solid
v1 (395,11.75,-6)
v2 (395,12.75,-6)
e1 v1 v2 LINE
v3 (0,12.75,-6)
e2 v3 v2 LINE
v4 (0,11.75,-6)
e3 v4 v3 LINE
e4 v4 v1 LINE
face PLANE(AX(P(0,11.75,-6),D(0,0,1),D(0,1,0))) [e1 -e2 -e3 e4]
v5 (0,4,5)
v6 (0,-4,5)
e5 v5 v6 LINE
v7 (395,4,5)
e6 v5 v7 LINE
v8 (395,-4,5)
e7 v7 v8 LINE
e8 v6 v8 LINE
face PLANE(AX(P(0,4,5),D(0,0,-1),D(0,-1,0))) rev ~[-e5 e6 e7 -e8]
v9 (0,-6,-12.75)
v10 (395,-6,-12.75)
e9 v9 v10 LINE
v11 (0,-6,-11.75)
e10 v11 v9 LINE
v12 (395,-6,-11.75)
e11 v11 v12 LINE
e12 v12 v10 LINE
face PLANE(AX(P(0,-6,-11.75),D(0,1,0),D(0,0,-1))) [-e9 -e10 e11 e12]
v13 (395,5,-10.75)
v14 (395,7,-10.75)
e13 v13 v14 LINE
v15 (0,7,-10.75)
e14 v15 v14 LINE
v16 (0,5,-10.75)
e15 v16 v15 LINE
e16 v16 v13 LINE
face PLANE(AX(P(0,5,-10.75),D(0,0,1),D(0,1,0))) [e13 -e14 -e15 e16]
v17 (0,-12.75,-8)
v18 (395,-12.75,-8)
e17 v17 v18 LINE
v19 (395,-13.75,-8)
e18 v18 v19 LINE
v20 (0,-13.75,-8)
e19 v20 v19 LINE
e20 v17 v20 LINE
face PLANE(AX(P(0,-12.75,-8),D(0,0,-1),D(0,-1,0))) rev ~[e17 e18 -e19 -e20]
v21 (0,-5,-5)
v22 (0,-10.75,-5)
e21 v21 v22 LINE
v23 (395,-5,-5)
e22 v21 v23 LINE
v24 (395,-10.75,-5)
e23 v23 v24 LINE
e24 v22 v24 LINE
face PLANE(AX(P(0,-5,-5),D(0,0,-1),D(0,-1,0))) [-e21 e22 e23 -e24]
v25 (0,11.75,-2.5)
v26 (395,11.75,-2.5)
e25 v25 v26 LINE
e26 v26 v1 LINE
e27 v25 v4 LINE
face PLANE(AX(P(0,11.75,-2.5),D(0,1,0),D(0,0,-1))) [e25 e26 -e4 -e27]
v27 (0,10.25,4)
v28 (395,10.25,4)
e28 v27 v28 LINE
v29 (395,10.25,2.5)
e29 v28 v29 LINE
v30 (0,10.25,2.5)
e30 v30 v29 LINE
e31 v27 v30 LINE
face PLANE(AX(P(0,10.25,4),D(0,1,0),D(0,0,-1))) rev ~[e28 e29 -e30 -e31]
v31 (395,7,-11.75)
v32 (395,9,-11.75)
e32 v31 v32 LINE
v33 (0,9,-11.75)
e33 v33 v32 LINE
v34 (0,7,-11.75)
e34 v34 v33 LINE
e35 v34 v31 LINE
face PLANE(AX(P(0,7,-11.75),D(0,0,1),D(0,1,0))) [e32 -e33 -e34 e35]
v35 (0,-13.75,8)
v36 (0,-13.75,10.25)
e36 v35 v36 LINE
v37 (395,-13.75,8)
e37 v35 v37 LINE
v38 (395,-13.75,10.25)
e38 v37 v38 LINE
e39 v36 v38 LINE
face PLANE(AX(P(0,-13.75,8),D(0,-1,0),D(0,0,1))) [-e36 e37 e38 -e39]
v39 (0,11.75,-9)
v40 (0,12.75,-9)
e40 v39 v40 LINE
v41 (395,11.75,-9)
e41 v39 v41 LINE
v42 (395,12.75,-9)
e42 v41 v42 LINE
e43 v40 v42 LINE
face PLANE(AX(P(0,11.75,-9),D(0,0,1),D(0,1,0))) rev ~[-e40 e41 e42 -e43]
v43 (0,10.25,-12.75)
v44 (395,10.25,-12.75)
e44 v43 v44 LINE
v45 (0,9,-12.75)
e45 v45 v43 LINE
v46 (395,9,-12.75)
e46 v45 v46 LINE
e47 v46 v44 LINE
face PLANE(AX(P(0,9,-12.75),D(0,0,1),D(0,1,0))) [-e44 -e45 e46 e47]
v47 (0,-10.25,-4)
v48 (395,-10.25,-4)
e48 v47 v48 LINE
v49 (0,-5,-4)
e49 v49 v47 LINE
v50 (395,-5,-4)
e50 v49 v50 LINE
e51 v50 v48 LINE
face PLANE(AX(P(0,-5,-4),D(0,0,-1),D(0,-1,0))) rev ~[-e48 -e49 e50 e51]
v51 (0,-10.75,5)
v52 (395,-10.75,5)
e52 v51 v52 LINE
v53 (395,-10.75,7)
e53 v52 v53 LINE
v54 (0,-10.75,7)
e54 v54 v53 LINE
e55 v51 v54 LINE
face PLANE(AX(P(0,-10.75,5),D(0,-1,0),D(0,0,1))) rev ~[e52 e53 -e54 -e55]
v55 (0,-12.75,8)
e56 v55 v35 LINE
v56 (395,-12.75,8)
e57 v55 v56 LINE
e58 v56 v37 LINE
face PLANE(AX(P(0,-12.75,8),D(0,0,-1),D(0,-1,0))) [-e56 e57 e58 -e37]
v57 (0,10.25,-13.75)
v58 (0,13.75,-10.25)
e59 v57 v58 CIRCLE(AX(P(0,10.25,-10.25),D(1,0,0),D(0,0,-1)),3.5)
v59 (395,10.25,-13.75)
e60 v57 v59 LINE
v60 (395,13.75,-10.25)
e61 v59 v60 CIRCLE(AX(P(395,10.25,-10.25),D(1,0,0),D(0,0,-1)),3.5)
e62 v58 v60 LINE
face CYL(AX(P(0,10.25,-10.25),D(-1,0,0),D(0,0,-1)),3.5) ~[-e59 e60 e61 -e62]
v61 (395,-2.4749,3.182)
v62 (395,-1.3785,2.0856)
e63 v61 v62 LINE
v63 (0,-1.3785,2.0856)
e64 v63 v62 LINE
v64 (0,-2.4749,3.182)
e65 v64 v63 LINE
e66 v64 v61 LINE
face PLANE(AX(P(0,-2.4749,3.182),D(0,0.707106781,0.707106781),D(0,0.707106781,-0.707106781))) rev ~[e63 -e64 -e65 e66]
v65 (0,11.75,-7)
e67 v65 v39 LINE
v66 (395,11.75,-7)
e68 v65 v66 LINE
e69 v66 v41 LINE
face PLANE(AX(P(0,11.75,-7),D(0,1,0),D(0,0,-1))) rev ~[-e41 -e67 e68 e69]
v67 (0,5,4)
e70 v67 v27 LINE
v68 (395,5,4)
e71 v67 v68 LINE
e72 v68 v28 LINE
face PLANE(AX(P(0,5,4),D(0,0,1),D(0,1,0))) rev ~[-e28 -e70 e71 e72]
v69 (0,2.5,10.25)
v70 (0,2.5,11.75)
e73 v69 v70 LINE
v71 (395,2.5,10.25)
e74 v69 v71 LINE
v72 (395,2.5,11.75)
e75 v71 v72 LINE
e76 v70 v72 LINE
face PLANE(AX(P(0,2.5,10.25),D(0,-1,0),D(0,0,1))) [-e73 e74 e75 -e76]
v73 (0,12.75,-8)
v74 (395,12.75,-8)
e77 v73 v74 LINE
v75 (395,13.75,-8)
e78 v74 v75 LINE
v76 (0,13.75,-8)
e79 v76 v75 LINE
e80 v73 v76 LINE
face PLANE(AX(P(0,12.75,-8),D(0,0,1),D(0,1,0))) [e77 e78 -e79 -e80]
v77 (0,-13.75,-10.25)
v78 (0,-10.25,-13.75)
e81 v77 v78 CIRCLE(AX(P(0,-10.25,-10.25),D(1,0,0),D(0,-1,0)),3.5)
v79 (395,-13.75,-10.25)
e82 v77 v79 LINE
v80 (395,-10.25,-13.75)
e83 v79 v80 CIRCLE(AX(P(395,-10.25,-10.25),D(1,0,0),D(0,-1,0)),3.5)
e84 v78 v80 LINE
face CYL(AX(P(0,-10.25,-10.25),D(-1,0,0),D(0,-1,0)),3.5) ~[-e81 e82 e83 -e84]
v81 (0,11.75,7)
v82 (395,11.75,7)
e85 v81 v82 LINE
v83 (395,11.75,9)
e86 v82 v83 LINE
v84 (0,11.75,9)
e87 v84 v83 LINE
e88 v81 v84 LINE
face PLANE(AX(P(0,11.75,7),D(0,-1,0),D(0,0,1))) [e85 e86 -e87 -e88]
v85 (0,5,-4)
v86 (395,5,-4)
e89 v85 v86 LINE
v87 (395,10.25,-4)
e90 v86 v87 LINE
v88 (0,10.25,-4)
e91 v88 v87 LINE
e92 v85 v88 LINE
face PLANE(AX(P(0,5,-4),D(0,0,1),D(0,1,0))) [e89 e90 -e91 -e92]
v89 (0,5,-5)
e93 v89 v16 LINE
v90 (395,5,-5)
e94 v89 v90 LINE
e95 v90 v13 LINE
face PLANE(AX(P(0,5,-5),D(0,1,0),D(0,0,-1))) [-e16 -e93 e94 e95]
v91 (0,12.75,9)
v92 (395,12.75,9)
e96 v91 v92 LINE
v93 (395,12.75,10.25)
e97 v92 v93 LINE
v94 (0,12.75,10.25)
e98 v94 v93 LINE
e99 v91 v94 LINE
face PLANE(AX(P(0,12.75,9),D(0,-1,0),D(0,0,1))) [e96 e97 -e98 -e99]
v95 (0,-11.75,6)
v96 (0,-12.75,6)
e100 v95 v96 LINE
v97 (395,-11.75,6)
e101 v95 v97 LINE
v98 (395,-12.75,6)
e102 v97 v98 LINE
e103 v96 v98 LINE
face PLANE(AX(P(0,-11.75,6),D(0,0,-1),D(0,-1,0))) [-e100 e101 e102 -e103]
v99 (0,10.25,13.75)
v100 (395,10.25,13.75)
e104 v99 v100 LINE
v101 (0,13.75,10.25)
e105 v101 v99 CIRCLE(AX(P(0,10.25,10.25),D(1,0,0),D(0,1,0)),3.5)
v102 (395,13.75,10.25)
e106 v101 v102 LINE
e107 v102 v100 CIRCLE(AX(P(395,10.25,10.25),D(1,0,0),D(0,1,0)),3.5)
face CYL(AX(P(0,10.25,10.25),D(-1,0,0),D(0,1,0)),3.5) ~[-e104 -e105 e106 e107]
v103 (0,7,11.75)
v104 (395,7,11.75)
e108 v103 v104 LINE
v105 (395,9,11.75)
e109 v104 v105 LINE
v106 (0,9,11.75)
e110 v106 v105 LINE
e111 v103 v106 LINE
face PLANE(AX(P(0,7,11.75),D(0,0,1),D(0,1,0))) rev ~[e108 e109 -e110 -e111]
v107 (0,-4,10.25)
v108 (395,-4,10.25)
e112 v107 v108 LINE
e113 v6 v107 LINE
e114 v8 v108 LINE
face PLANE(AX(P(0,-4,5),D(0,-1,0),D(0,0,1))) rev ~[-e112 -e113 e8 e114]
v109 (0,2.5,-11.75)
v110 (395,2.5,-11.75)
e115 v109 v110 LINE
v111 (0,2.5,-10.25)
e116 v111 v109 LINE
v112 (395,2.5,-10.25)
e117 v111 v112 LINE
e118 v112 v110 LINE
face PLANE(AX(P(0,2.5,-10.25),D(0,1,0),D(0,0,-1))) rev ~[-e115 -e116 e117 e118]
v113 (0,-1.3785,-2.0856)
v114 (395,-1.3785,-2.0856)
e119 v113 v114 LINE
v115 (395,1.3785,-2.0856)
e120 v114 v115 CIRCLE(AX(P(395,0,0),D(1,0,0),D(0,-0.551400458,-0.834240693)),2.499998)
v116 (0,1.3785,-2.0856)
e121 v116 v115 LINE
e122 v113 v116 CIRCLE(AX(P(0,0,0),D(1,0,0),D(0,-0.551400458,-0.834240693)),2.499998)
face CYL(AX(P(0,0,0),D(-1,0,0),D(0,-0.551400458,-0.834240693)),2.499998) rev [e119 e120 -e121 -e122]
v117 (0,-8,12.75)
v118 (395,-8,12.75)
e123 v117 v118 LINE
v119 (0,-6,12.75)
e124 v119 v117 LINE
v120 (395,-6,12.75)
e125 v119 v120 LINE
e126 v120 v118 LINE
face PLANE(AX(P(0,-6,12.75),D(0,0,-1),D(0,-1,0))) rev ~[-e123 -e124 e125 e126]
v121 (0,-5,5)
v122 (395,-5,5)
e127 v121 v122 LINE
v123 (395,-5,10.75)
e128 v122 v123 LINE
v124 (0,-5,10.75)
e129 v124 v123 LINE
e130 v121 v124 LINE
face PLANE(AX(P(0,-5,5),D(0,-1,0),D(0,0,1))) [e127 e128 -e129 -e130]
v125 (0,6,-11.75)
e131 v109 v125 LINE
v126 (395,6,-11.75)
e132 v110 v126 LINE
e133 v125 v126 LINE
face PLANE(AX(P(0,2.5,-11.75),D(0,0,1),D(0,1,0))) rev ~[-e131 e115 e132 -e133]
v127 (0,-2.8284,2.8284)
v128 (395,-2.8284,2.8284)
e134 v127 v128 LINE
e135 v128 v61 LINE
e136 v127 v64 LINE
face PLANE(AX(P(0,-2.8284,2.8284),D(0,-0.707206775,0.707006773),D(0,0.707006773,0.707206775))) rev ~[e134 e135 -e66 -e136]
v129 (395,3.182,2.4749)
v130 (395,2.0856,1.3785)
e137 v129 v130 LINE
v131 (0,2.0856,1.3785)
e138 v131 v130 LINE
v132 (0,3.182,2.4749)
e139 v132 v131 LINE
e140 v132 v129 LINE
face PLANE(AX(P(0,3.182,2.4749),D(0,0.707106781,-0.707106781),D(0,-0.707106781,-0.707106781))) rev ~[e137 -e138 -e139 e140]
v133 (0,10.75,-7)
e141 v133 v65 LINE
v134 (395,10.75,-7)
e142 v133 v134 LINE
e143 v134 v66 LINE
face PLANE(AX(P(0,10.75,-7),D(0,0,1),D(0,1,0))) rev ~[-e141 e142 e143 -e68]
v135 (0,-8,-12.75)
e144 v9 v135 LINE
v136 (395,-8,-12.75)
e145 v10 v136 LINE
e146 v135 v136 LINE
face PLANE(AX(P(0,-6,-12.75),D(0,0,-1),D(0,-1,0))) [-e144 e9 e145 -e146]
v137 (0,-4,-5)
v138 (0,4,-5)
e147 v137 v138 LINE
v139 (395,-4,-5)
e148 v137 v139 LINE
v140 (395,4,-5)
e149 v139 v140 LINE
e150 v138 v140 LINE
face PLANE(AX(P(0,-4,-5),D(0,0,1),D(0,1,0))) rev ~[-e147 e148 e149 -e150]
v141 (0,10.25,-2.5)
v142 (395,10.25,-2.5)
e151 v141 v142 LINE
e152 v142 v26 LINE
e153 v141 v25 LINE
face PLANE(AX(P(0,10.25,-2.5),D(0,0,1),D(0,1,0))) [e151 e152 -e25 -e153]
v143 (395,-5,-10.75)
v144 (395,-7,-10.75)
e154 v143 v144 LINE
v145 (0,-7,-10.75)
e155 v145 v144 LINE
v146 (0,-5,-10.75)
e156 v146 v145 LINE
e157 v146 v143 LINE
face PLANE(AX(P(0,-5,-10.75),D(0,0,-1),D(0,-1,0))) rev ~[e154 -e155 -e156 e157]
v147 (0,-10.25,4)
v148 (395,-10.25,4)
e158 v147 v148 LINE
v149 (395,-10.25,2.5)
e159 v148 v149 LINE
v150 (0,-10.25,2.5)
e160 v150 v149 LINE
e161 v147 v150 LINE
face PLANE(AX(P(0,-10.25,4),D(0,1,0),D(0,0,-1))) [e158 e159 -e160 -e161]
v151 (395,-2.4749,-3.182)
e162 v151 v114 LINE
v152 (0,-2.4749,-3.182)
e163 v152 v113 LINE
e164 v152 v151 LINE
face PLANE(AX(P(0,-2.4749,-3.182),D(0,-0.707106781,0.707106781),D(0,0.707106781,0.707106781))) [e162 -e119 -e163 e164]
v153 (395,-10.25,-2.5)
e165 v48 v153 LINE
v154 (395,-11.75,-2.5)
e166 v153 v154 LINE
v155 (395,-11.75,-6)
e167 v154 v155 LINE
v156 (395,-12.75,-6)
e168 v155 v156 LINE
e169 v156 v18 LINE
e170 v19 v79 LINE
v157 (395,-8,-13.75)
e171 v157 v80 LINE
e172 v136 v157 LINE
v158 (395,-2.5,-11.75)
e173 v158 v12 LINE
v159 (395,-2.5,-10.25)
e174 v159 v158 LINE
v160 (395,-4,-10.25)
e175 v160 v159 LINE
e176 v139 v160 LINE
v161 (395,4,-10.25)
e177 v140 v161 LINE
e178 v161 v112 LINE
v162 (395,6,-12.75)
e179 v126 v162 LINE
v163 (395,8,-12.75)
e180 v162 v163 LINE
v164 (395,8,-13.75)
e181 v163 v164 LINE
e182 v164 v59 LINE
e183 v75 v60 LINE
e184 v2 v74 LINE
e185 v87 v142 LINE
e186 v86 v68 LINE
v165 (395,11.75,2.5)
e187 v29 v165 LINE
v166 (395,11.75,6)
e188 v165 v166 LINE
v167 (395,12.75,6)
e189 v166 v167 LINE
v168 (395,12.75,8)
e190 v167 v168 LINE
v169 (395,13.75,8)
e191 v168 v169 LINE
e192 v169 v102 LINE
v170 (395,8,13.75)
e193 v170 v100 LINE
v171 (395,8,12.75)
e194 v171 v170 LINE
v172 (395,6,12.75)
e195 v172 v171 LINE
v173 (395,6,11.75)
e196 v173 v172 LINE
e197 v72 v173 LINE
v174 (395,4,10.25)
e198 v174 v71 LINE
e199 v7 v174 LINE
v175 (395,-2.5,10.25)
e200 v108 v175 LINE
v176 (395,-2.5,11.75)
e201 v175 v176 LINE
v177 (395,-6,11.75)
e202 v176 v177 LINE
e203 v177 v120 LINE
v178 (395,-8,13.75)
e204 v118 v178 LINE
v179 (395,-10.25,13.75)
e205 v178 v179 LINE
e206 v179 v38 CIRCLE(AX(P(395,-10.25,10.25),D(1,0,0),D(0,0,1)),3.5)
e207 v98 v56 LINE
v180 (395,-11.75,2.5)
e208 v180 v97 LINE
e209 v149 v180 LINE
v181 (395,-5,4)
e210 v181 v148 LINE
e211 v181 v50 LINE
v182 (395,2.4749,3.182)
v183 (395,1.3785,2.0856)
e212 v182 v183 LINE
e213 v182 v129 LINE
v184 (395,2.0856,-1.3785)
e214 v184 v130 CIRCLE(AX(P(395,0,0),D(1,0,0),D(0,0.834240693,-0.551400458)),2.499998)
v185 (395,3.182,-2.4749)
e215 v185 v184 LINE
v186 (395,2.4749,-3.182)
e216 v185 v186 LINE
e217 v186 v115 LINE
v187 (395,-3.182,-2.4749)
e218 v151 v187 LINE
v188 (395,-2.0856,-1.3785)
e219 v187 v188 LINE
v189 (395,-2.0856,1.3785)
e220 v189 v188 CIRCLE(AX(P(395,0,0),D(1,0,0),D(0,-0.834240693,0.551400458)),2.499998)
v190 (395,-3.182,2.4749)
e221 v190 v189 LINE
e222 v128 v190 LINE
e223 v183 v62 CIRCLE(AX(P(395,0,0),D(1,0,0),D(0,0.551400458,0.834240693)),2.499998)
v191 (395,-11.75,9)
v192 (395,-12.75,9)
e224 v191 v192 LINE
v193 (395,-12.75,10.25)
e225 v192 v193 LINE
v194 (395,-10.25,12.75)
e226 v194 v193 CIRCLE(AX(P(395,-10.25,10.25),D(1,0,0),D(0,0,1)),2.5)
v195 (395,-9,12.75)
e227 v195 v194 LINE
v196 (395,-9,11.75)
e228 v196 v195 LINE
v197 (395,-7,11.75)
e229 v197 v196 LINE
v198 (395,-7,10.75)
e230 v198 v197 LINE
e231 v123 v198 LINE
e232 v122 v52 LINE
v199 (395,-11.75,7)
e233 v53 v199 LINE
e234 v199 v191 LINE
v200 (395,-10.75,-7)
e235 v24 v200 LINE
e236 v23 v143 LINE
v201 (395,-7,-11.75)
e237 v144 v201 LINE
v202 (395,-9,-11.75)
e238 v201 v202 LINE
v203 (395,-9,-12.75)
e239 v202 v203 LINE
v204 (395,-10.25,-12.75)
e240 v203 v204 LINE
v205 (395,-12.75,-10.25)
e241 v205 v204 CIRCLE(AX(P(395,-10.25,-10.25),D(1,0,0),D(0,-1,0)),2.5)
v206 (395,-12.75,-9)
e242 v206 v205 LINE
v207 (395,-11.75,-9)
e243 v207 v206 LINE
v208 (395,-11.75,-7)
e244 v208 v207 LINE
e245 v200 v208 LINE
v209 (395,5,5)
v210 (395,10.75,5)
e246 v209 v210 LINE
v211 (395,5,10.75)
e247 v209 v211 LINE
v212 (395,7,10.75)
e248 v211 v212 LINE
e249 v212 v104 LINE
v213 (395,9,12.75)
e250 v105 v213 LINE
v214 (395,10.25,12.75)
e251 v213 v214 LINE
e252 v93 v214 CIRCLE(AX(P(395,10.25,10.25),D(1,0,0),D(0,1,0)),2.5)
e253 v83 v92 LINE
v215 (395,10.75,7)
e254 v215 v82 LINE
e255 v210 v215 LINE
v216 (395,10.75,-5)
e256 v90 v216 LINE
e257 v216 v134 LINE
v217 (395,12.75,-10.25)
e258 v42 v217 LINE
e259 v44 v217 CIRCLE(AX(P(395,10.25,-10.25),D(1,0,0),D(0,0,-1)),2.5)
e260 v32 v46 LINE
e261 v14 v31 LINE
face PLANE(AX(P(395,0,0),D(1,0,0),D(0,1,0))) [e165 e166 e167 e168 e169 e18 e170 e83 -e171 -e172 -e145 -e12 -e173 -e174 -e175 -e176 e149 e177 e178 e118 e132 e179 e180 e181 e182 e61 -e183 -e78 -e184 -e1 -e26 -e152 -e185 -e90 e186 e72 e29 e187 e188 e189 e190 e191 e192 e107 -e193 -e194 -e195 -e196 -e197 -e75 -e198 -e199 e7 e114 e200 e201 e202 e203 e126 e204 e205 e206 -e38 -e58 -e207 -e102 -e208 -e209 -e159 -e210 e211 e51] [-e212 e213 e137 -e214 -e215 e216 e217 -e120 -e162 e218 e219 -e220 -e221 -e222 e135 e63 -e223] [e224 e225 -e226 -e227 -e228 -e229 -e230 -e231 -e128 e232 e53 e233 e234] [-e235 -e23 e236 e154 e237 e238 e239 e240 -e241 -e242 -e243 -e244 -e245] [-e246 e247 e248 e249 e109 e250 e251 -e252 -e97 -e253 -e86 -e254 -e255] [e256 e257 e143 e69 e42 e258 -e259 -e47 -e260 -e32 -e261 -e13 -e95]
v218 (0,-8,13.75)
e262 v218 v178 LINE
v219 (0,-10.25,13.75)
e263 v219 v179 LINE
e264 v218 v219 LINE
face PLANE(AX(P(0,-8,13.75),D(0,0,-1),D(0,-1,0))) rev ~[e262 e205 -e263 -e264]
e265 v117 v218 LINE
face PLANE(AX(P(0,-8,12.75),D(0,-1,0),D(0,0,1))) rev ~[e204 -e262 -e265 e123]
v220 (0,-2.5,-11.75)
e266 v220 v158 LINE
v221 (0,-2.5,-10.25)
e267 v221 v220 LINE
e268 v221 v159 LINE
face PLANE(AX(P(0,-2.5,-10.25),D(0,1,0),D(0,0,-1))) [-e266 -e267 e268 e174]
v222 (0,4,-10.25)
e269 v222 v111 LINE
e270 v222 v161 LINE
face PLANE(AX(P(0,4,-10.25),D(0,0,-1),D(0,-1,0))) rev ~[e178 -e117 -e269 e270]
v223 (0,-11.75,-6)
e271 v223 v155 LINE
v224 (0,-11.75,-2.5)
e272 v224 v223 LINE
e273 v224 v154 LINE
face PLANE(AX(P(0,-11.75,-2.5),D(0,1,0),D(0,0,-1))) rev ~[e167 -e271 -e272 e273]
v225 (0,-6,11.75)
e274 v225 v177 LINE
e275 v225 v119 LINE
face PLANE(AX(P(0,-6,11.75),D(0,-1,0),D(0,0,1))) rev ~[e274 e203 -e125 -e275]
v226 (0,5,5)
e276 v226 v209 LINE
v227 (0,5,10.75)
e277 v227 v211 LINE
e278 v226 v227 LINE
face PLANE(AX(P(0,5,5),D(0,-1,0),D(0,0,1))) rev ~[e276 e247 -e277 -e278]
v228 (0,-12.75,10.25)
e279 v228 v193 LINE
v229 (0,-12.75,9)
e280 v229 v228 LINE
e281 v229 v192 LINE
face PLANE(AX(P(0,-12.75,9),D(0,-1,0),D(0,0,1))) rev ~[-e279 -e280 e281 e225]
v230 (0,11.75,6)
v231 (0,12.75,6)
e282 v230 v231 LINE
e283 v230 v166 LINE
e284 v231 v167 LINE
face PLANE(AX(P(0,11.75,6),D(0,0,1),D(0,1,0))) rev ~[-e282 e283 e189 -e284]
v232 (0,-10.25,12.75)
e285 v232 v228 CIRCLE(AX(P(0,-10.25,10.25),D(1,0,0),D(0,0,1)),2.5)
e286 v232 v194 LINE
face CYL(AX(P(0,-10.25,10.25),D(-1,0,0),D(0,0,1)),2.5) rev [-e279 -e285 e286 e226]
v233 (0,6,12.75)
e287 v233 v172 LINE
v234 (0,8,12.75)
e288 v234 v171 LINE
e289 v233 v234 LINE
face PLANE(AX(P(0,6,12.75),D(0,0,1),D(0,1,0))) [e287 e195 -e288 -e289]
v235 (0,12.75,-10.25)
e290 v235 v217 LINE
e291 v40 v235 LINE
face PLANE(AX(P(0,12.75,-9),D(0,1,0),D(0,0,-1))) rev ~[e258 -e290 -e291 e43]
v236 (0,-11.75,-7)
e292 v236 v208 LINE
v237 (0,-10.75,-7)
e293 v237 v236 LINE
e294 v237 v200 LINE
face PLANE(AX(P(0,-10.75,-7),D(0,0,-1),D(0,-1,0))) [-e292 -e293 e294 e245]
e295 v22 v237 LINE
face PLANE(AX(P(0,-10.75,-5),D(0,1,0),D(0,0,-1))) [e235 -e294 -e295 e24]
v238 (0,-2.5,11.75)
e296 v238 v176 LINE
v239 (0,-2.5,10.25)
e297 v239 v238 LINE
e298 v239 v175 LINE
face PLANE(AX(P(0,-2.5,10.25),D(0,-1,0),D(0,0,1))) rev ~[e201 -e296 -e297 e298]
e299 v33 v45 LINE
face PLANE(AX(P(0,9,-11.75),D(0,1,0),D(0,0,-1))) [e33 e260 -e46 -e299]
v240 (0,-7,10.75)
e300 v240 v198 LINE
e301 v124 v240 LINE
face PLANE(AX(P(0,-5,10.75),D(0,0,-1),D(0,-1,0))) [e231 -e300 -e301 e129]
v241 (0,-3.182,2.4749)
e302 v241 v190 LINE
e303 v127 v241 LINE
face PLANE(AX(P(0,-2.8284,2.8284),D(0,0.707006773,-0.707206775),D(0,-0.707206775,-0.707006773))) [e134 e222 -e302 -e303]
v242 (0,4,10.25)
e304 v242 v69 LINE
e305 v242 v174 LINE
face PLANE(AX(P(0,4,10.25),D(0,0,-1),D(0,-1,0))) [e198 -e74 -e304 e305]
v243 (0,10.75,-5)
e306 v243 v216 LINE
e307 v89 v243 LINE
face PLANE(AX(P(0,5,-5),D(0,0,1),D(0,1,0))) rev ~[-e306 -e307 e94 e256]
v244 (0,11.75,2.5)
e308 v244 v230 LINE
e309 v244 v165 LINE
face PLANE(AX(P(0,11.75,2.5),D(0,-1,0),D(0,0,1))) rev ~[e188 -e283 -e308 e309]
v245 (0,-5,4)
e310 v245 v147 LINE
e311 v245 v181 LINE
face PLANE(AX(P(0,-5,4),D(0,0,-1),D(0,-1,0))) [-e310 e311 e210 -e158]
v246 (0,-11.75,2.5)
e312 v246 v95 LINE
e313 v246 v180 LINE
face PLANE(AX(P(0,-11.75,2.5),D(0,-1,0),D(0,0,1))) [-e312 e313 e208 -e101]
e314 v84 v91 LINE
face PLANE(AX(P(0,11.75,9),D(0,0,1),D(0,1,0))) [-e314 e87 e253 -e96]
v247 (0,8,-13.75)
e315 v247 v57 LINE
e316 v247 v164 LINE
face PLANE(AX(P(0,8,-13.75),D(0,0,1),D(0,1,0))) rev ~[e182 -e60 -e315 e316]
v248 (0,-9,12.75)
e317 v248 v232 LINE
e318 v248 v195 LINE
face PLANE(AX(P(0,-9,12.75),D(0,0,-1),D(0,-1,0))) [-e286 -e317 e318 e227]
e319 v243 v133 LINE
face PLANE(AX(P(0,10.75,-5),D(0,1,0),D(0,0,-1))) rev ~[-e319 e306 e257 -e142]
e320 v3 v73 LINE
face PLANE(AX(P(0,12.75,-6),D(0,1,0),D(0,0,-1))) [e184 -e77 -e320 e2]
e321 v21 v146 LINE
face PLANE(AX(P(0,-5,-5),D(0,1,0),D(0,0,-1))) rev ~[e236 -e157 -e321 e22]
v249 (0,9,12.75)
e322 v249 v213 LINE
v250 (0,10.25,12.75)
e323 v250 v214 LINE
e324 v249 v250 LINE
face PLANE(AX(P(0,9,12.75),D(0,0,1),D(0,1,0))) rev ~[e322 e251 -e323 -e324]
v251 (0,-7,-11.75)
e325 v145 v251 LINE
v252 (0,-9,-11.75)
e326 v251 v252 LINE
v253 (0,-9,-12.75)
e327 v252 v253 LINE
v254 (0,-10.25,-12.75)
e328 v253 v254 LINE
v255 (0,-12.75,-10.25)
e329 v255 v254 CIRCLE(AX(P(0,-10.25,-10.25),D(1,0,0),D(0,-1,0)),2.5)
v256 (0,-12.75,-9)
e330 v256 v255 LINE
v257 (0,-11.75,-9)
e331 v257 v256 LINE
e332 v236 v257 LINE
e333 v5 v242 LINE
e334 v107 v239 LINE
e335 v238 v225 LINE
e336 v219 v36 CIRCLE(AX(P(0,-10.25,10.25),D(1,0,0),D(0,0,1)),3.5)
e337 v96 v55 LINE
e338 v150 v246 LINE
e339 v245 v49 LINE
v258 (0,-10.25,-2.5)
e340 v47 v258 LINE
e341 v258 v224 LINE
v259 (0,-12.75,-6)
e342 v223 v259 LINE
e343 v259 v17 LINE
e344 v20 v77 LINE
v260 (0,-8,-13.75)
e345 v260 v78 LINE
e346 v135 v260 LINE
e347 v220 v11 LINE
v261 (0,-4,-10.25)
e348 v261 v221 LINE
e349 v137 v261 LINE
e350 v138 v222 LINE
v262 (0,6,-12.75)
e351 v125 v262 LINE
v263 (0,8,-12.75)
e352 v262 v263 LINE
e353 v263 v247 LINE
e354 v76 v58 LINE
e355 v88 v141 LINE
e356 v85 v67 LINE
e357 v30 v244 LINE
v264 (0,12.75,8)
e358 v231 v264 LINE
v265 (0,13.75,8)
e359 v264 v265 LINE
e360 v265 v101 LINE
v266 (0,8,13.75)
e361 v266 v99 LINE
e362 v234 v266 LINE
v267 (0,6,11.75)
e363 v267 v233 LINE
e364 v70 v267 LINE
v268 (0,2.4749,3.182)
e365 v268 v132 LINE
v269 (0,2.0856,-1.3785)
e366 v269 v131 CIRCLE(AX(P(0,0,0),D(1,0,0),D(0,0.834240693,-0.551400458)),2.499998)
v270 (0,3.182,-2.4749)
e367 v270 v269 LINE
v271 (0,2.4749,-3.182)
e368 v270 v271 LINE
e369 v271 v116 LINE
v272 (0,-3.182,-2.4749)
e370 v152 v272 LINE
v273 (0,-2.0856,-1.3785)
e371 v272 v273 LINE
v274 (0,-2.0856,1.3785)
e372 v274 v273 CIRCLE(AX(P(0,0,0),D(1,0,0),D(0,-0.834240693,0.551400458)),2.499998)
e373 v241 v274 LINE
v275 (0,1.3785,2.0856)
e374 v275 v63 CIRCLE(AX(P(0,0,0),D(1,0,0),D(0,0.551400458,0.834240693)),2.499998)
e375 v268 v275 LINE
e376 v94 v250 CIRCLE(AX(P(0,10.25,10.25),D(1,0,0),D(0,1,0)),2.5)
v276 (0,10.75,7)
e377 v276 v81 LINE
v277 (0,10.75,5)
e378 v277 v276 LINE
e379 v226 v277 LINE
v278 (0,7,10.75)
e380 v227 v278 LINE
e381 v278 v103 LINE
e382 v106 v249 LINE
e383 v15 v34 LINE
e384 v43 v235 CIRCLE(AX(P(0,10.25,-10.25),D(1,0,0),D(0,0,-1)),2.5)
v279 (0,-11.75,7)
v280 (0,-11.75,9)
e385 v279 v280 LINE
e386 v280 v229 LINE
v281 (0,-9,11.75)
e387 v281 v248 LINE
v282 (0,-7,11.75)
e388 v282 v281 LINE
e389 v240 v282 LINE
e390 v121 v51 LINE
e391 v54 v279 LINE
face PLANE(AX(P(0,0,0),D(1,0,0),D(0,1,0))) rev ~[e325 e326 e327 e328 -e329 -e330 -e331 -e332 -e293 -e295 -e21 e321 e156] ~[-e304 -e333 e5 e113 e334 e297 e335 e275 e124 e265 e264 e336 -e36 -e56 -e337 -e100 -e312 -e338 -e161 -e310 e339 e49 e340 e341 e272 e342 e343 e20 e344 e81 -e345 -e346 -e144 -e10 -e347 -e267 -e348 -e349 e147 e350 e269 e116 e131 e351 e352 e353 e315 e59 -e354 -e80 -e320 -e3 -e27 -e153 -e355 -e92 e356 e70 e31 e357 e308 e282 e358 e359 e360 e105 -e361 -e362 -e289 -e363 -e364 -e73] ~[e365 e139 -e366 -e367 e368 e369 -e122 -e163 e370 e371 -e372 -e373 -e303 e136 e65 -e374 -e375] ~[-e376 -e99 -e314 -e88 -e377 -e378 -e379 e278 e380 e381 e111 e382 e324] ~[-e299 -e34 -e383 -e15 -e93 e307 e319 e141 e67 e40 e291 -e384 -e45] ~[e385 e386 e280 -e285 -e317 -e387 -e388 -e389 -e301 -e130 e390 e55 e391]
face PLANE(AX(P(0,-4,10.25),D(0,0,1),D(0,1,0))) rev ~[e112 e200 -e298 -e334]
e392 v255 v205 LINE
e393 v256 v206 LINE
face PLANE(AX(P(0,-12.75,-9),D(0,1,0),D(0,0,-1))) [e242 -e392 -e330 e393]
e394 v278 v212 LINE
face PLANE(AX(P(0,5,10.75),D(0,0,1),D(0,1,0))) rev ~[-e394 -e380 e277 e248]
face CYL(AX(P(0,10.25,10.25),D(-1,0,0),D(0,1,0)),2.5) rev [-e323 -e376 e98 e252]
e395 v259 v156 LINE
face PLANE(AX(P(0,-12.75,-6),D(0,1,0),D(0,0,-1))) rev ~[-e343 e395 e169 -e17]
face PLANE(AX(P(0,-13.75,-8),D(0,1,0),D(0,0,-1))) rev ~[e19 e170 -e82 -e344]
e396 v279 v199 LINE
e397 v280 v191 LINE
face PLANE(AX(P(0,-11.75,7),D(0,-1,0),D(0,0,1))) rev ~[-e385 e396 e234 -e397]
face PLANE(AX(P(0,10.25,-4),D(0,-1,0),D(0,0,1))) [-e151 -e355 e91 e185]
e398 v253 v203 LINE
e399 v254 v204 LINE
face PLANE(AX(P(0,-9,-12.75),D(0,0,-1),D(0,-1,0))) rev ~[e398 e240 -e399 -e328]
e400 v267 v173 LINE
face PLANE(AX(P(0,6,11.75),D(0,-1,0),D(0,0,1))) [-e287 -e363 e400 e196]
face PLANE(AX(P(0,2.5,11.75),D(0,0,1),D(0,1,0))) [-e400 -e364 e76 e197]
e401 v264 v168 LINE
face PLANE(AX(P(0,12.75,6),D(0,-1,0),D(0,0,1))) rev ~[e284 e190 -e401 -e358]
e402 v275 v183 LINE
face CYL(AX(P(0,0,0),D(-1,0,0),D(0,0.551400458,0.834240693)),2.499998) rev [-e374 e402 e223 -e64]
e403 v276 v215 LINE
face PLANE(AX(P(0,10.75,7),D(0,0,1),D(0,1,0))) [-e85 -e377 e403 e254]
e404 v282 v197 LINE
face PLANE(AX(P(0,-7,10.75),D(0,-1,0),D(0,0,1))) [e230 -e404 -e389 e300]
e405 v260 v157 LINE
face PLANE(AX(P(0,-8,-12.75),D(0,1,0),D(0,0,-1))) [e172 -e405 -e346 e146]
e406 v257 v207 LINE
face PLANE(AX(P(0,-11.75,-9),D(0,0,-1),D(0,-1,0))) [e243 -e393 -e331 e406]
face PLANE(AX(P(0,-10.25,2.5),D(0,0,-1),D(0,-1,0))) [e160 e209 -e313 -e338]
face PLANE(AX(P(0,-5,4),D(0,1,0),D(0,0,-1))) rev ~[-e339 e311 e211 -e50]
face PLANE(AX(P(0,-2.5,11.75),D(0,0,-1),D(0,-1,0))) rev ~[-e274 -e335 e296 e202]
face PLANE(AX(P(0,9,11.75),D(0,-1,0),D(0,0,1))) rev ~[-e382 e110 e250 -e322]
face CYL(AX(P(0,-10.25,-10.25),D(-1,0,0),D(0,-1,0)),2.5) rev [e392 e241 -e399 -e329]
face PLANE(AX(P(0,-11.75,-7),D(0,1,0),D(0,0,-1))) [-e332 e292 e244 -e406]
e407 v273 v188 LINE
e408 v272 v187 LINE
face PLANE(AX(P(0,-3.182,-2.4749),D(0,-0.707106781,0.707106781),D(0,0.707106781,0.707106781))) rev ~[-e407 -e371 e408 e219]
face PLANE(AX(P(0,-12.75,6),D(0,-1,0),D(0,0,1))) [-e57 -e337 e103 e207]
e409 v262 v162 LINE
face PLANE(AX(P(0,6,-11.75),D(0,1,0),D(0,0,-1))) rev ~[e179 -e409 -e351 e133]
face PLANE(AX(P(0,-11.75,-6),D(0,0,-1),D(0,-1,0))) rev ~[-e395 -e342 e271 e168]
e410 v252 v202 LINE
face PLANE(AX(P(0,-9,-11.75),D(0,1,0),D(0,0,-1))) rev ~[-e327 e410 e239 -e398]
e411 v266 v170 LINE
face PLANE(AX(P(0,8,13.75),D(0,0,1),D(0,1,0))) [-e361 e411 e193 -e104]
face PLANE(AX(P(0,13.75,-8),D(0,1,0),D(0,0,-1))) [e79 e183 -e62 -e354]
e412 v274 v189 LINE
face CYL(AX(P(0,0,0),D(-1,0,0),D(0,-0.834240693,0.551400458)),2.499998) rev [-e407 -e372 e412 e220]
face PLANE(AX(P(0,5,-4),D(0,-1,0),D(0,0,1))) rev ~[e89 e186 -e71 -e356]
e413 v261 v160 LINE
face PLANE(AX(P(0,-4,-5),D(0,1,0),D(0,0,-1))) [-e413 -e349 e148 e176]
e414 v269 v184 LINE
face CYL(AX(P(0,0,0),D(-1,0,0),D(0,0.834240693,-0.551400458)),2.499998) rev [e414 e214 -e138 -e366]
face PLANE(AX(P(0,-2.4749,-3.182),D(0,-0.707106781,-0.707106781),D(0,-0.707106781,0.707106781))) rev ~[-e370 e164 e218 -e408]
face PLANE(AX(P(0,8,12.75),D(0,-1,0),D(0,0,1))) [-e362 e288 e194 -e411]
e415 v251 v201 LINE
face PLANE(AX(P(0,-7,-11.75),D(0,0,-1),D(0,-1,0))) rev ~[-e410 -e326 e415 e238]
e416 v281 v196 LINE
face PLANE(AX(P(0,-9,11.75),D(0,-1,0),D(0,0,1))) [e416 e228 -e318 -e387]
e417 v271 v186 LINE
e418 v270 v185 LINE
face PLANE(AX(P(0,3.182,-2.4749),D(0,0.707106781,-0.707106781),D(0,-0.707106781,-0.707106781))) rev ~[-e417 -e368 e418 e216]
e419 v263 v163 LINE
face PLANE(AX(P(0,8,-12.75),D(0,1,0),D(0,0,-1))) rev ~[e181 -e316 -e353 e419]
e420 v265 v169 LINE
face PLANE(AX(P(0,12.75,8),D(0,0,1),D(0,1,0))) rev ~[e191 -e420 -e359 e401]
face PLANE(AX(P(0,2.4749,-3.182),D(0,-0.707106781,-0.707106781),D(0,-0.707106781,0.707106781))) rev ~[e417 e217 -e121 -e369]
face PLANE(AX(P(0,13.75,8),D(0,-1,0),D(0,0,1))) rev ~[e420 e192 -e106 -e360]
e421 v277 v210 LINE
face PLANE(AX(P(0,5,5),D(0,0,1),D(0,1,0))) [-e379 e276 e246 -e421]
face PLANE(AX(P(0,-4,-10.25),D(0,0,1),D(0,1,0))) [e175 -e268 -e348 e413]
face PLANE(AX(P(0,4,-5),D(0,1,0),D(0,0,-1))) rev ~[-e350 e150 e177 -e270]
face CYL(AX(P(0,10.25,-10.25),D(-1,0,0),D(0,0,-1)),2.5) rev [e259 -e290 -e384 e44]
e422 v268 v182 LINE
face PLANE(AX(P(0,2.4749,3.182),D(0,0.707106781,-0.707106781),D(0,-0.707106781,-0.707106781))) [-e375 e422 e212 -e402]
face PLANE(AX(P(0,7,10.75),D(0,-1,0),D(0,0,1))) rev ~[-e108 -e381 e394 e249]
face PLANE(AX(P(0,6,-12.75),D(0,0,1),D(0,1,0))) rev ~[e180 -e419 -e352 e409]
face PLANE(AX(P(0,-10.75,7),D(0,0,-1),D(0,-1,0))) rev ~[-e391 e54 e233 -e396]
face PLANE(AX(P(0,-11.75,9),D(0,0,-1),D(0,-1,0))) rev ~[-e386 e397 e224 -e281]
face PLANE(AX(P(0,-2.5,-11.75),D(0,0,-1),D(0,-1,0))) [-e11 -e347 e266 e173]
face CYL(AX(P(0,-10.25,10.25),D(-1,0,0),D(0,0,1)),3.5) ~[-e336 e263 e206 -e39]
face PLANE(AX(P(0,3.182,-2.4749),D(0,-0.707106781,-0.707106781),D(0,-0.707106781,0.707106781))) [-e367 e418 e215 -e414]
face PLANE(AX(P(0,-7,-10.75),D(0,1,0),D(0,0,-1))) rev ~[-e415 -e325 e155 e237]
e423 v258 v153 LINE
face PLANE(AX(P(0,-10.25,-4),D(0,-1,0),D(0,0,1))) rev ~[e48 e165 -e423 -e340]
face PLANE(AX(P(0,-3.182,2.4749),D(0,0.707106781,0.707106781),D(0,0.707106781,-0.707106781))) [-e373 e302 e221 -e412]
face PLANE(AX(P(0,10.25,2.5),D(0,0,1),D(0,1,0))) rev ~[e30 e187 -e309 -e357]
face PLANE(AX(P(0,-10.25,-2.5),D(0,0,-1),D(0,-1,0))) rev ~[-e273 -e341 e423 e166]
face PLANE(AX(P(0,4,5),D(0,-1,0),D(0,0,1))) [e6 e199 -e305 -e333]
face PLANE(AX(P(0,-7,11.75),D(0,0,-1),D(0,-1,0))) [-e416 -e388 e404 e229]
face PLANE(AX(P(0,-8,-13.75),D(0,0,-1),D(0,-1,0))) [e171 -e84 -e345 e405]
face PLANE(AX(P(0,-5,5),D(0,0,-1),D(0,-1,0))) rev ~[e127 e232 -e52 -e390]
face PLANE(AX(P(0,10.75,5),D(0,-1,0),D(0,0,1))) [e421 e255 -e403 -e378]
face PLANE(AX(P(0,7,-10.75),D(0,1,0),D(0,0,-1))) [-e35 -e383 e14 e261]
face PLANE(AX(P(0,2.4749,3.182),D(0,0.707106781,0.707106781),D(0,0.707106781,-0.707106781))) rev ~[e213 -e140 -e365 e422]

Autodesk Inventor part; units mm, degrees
ref_plane "YZ Plane" through (0, 0, 0) normal (1, 0, 0) x (0, 1, 0)
ref_plane "XZ Plane" through (0, 0, 0) normal (0, 1, 0) x (-1, 0, 0)
ref_plane "XY Plane" through (0, 0, 0) normal (0, 0, 1) x (1, 0, 0)
sketch "Sketch1" plane through (0, 0, 0) normal (1, 0, 0) x (0, 1, 0)
  line L0 (0, 25.1698) -> (0, -25.1698) construction
  line L1 (-25.1698, 0) -> (25.1698, 0) construction
  line L2 (-13.75, 13.75) -> (13.75, 13.75) construction
  line L3 (13.75, 13.75) -> (13.75, -13.75) construction
  line L4 (13.75, -13.75) -> (-13.75, -13.75) construction
  line L5 (-13.75, -13.75) -> (-13.75, 13.75) construction
  line L6 (-17.9785, 13.9213) -> (17.1336, 13.9213) construction
  line L7 (17.1336, 13.9213) -> (17.1336, -14.9109) construction
  line L8 (17.1336, -14.9109) -> (-17.9785, -14.9109) construction
  line L9 (-17.9785, -14.9109) -> (-17.9785, 13.9213) construction
  line L10 (5, -5) -> (-5, -5) construction
  line L11 (-5, -5) -> (-5, 5) construction
  line L12 (-5, 5) -> (5, 5) construction
  line L13 (5, 5) -> (5, -5) construction
  line L14 (5, -5) -> (-5, 5) construction
  line L15 (-5, -5) -> (5, 5) construction
  line L16 (-5, 4) -> (-10.25, 4)
  line L17 (-10.25, 4) -> (-10.25, 2.5)
  line L18 (-10.25, 2.5) -> (-11.75, 2.5)
  line L19 (-11.75, 2.5) -> (-11.75, 6)
  line L20 (-11.75, 6) -> (-12.75, 6)
  line L21 (-12.75, 6) -> (-12.75, 8)
  line L22 (-12.75, 8) -> (-13.75, 8)
  line L23 (-13.75, 13.75) -> (0, 0) construction
  line L24 (-4, 5) -> (-4, 10.25)
  line L25 (-4, 10.25) -> (-2.5, 10.25)
  line L26 (-2.5, 10.25) -> (-2.5, 11.75)
  line L27 (-2.5, 11.75) -> (-6, 11.75)
  line L28 (-6, 11.75) -> (-6, 12.75)
  line L29 (-6, 12.75) -> (-8, 12.75)
  line L30 (-8, 12.75) -> (-8, 13.75)
  line L31 (-13.75, 8) -> (-13.75, 10.25)
  line L32 (-8, 13.75) -> (-10.25, 13.75)
  arc A0 (-10.25, 13.75) -> (-13.75, 10.25) centre (-10.25, 10.25) ccw
  line L33 (-5, 5) -> (-10.75, 5)
  line L34 (-10.75, 5) -> (-10.75, 7)
  line L35 (-10.75, 7) -> (-11.75, 7)
  line L36 (-11.75, 7) -> (-11.75, 9)
  line L37 (-11.75, 9) -> (-12.75, 9)
  line L38 (-5, 5) -> (-5, 10.75)
  line L39 (-5, 10.75) -> (-7, 10.75)
  line L40 (-7, 10.75) -> (-7, 11.75)
  line L41 (-7, 11.75) -> (-9, 11.75)
  line L42 (-9, 11.75) -> (-9, 12.75)
  line L43 (-12.75, 9) -> (-12.75, 10.25)
  line L44 (-9, 12.75) -> (-10.25, 12.75)
  arc A1 (-10.25, 12.75) -> (-12.75, 10.25) centre (-10.25, 10.25) ccw
  line L45 (-4, -5) -> (-4, -10.25)
  line L46 (-4, -10.25) -> (-2.5, -10.25)
  line L47 (-2.5, -10.25) -> (-2.5, -11.75)
  line L48 (-2.5, -11.75) -> (-6, -11.75)
  line L49 (-6, -11.75) -> (-6, -12.75)
  line L50 (-6, -12.75) -> (-8, -12.75)
  line L51 (-8, -12.75) -> (-8, -13.75)
  line L52 (-10.25, -4) -> (-10.25, -2.5)
  line L53 (-5, -4) -> (-10.25, -4)
  line L54 (-10.25, -2.5) -> (-11.75, -2.5)
  line L55 (-11.75, -6) -> (-12.75, -6)
  line L56 (-11.75, -2.5) -> (-11.75, -6)
  line L57 (-12.75, -6) -> (-12.75, -8)
  line L58 (-12.75, -8) -> (-13.75, -8)
  line L59 (-8, -13.75) -> (-10.25, -13.75)
  line L60 (-13.75, -8) -> (-13.75, -10.25)
  arc A2 (-13.75, -10.25) -> (-10.25, -13.75) centre (-10.25, -10.25) ccw
  line L61 (-5, -5) -> (-5, -10.75)
  line L62 (-5, -10.75) -> (-7, -10.75)
  line L63 (-7, -10.75) -> (-7, -11.75)
  line L64 (-7, -11.75) -> (-9, -11.75)
  line L65 (-9, -11.75) -> (-9, -12.75)
  line L66 (-11.75, -9) -> (-12.75, -9)
  line L67 (-11.75, -7) -> (-11.75, -9)
  line L68 (-10.75, -7) -> (-11.75, -7)
  line L69 (-10.75, -5) -> (-10.75, -7)
  line L70 (-5, -5) -> (-10.75, -5)
  line L71 (-9, -12.75) -> (-10.25, -12.75)
  line L72 (-12.75, -9) -> (-12.75, -10.25)
  arc A3 (-12.75, -10.25) -> (-10.25, -12.75) centre (-10.25, -10.25) ccw
  line L73 (5, -4) -> (10.25, -4)
  line L74 (10.25, -4) -> (10.25, -2.5)
  line L75 (10.25, -2.5) -> (11.75, -2.5)
  line L76 (11.75, -2.5) -> (11.75, -6)
  line L77 (11.75, -6) -> (12.75, -6)
  line L78 (12.75, -6) -> (12.75, -8)
  line L79 (12.75, -8) -> (13.75, -8)
  line L80 (4, -10.25) -> (2.5, -10.25)
  line L81 (4, -5) -> (4, -10.25)
  line L82 (2.5, -10.25) -> (2.5, -11.75)
  line L83 (6, -11.75) -> (6, -12.75)
  line L84 (2.5, -11.75) -> (6, -11.75)
  line L85 (6, -12.75) -> (8, -12.75)
  line L86 (8, -12.75) -> (8, -13.75)
  line L87 (13.75, -8) -> (13.75, -10.25)
  line L88 (8, -13.75) -> (10.25, -13.75)
  arc A4 (10.25, -13.75) -> (13.75, -10.25) centre (10.25, -10.25) ccw
  line L89 (5, -5) -> (10.75, -5)
  line L90 (10.75, -5) -> (10.75, -7)
  line L91 (10.75, -7) -> (11.75, -7)
  line L92 (11.75, -7) -> (11.75, -9)
  line L93 (11.75, -9) -> (12.75, -9)
  line L94 (9, -11.75) -> (9, -12.75)
  line L95 (7, -11.75) -> (9, -11.75)
  line L96 (7, -10.75) -> (7, -11.75)
  line L97 (5, -10.75) -> (7, -10.75)
  line L98 (5, -5) -> (5, -10.75)
  line L99 (12.75, -9) -> (12.75, -10.25)
  line L100 (9, -12.75) -> (10.25, -12.75)
  arc A5 (10.25, -12.75) -> (12.75, -10.25) centre (10.25, -10.25) ccw
  line L101 (4, 5) -> (4, 10.25)
  line L102 (4, 10.25) -> (2.5, 10.25)
  line L103 (2.5, 10.25) -> (2.5, 11.75)
  line L104 (2.5, 11.75) -> (6, 11.75)
  line L105 (6, 11.75) -> (6, 12.75)
  line L106 (6, 12.75) -> (8, 12.75)
  line L107 (8, 12.75) -> (8, 13.75)
  line L108 (10.25, 4) -> (10.25, 2.5)
  line L109 (5, 4) -> (10.25, 4)
  line L110 (10.25, 2.5) -> (11.75, 2.5)
  line L111 (11.75, 6) -> (12.75, 6)
  line L112 (11.75, 2.5) -> (11.75, 6)
  line L113 (12.75, 6) -> (12.75, 8)
  line L114 (12.75, 8) -> (13.75, 8)
  line L115 (8, 13.75) -> (10.25, 13.75)
  line L116 (13.75, 8) -> (13.75, 10.25)
  arc A6 (13.75, 10.25) -> (10.25, 13.75) centre (10.25, 10.25) ccw
  line L117 (5, 5) -> (5, 10.75)
  line L118 (5, 10.75) -> (7, 10.75)
  line L119 (7, 10.75) -> (7, 11.75)
  line L120 (7, 11.75) -> (9, 11.75)
  line L121 (9, 11.75) -> (9, 12.75)
  line L122 (11.75, 9) -> (12.75, 9)
  line L123 (11.75, 7) -> (11.75, 9)
  line L124 (10.75, 7) -> (11.75, 7)
  line L125 (10.75, 5) -> (10.75, 7)
  line L126 (5, 5) -> (10.75, 5)
  line L127 (9, 12.75) -> (10.25, 12.75)
  line L128 (12.75, 9) -> (12.75, 10.25)
  arc A7 (12.75, 10.25) -> (10.25, 12.75) centre (10.25, 10.25) ccw
  line L129 (0, 0) -> (-2.8284, 2.8284) construction
  line L130 (-2.8284, 2.8284) -> (-3.182, 2.4749)
  line L131 (-3.182, 2.4749) -> (-2.0856, 1.3785)
  line L132 (-2.8284, 2.8284) -> (-2.4749, 3.182)
  line L133 (-2.4749, 3.182) -> (-1.3785, 2.0856)
  line L134 (-3.182, 2.4749) -> (-2.4749, 3.182)
  line L135 (-2.4749, -3.182) -> (-1.3785, -2.0856)
  line L136 (-3.182, -2.4749) -> (-2.0856, -1.3785)
  line L137 (-2.4749, -3.182) -> (-3.182, -2.4749)
  line L138 (3.182, -2.4749) -> (2.0856, -1.3785)
  line L139 (2.4749, -3.182) -> (1.3785, -2.0856)
  line L140 (3.182, -2.4749) -> (2.4749, -3.182)
  line L141 (2.4749, 3.182) -> (1.3785, 2.0856)
  line L142 (3.182, 2.4749) -> (2.0856, 1.3785)
  line L143 (2.4749, 3.182) -> (3.182, 2.4749)
  arc A8 (-2.0856, 1.3785) -> (-2.0856, -1.3785) centre (0, 0) ccw
  arc A9 (-1.3785, -2.0856) -> (1.3785, -2.0856) centre (0, 0) ccw
  arc A10 (2.0856, -1.3785) -> (2.0856, 1.3785) centre (0, 0) ccw
  arc A11 (1.3785, 2.0856) -> (-1.3785, 2.0856) centre (0, 0) ccw
  line L144 (-5, 4) -> (-5, -4)
  line L145 (-4, -5) -> (4, -5)
  line L146 (5, -4) -> (5, 4)
  line L147 (4, 5) -> (-4, 5)
  point P0 (-12.75, 12.75)
  point P1 (-13.75, -13.75)
  point P2 (-13.9213, -17.9785)
  point P3 (-12.75, -12.75)
  point P4 (13.75, -13.75)
  point P5 (17.9785, -13.9213)
  point P6 (12.75, -12.75)
  point P7 (13.75, 13.75)
  point P8 (13.9213, 17.9785)
  point P9 (12.75, 12.75)
  dimension "d0" = 27.5
  dimension "d1" = 27.5
  dimension "d67" = 10
  dimension "d68" = 10
  dimension "d69" = 1
  dimension "d73" = 1.5
  dimension "d74" = 3.5
  dimension "d75" = 1
  dimension "d76" = 2
  dimension "d77" = 1
  dimension "d78" = 1.5
  dimension "d80" = 3.5
  dimension "d81" = 1
  dimension "d82" = 1
  dimension "d83" = 1
  dimension "d84" = 1
  dimension "d85" = 1
  dimension "d88" = 2.5
  dimension "d91" = 360
  dimension "d96" = 4
  dimension "d97" = 0.5
  dimension "d98" = 0.5
  dimension "d102" = 360
  dimension "d120" = 2.5
extrude "Extrusion1" add sketch "Sketch1" along normal blind 395
ref_plane "Work Plane1" through (225, 194.25, -14.75) normal (0, 0, 1) x (0, 1, 0)
equation "\"d1\" = d0"
equation "\"d68\" = d67"
properties part number "profilato450estrusore"
